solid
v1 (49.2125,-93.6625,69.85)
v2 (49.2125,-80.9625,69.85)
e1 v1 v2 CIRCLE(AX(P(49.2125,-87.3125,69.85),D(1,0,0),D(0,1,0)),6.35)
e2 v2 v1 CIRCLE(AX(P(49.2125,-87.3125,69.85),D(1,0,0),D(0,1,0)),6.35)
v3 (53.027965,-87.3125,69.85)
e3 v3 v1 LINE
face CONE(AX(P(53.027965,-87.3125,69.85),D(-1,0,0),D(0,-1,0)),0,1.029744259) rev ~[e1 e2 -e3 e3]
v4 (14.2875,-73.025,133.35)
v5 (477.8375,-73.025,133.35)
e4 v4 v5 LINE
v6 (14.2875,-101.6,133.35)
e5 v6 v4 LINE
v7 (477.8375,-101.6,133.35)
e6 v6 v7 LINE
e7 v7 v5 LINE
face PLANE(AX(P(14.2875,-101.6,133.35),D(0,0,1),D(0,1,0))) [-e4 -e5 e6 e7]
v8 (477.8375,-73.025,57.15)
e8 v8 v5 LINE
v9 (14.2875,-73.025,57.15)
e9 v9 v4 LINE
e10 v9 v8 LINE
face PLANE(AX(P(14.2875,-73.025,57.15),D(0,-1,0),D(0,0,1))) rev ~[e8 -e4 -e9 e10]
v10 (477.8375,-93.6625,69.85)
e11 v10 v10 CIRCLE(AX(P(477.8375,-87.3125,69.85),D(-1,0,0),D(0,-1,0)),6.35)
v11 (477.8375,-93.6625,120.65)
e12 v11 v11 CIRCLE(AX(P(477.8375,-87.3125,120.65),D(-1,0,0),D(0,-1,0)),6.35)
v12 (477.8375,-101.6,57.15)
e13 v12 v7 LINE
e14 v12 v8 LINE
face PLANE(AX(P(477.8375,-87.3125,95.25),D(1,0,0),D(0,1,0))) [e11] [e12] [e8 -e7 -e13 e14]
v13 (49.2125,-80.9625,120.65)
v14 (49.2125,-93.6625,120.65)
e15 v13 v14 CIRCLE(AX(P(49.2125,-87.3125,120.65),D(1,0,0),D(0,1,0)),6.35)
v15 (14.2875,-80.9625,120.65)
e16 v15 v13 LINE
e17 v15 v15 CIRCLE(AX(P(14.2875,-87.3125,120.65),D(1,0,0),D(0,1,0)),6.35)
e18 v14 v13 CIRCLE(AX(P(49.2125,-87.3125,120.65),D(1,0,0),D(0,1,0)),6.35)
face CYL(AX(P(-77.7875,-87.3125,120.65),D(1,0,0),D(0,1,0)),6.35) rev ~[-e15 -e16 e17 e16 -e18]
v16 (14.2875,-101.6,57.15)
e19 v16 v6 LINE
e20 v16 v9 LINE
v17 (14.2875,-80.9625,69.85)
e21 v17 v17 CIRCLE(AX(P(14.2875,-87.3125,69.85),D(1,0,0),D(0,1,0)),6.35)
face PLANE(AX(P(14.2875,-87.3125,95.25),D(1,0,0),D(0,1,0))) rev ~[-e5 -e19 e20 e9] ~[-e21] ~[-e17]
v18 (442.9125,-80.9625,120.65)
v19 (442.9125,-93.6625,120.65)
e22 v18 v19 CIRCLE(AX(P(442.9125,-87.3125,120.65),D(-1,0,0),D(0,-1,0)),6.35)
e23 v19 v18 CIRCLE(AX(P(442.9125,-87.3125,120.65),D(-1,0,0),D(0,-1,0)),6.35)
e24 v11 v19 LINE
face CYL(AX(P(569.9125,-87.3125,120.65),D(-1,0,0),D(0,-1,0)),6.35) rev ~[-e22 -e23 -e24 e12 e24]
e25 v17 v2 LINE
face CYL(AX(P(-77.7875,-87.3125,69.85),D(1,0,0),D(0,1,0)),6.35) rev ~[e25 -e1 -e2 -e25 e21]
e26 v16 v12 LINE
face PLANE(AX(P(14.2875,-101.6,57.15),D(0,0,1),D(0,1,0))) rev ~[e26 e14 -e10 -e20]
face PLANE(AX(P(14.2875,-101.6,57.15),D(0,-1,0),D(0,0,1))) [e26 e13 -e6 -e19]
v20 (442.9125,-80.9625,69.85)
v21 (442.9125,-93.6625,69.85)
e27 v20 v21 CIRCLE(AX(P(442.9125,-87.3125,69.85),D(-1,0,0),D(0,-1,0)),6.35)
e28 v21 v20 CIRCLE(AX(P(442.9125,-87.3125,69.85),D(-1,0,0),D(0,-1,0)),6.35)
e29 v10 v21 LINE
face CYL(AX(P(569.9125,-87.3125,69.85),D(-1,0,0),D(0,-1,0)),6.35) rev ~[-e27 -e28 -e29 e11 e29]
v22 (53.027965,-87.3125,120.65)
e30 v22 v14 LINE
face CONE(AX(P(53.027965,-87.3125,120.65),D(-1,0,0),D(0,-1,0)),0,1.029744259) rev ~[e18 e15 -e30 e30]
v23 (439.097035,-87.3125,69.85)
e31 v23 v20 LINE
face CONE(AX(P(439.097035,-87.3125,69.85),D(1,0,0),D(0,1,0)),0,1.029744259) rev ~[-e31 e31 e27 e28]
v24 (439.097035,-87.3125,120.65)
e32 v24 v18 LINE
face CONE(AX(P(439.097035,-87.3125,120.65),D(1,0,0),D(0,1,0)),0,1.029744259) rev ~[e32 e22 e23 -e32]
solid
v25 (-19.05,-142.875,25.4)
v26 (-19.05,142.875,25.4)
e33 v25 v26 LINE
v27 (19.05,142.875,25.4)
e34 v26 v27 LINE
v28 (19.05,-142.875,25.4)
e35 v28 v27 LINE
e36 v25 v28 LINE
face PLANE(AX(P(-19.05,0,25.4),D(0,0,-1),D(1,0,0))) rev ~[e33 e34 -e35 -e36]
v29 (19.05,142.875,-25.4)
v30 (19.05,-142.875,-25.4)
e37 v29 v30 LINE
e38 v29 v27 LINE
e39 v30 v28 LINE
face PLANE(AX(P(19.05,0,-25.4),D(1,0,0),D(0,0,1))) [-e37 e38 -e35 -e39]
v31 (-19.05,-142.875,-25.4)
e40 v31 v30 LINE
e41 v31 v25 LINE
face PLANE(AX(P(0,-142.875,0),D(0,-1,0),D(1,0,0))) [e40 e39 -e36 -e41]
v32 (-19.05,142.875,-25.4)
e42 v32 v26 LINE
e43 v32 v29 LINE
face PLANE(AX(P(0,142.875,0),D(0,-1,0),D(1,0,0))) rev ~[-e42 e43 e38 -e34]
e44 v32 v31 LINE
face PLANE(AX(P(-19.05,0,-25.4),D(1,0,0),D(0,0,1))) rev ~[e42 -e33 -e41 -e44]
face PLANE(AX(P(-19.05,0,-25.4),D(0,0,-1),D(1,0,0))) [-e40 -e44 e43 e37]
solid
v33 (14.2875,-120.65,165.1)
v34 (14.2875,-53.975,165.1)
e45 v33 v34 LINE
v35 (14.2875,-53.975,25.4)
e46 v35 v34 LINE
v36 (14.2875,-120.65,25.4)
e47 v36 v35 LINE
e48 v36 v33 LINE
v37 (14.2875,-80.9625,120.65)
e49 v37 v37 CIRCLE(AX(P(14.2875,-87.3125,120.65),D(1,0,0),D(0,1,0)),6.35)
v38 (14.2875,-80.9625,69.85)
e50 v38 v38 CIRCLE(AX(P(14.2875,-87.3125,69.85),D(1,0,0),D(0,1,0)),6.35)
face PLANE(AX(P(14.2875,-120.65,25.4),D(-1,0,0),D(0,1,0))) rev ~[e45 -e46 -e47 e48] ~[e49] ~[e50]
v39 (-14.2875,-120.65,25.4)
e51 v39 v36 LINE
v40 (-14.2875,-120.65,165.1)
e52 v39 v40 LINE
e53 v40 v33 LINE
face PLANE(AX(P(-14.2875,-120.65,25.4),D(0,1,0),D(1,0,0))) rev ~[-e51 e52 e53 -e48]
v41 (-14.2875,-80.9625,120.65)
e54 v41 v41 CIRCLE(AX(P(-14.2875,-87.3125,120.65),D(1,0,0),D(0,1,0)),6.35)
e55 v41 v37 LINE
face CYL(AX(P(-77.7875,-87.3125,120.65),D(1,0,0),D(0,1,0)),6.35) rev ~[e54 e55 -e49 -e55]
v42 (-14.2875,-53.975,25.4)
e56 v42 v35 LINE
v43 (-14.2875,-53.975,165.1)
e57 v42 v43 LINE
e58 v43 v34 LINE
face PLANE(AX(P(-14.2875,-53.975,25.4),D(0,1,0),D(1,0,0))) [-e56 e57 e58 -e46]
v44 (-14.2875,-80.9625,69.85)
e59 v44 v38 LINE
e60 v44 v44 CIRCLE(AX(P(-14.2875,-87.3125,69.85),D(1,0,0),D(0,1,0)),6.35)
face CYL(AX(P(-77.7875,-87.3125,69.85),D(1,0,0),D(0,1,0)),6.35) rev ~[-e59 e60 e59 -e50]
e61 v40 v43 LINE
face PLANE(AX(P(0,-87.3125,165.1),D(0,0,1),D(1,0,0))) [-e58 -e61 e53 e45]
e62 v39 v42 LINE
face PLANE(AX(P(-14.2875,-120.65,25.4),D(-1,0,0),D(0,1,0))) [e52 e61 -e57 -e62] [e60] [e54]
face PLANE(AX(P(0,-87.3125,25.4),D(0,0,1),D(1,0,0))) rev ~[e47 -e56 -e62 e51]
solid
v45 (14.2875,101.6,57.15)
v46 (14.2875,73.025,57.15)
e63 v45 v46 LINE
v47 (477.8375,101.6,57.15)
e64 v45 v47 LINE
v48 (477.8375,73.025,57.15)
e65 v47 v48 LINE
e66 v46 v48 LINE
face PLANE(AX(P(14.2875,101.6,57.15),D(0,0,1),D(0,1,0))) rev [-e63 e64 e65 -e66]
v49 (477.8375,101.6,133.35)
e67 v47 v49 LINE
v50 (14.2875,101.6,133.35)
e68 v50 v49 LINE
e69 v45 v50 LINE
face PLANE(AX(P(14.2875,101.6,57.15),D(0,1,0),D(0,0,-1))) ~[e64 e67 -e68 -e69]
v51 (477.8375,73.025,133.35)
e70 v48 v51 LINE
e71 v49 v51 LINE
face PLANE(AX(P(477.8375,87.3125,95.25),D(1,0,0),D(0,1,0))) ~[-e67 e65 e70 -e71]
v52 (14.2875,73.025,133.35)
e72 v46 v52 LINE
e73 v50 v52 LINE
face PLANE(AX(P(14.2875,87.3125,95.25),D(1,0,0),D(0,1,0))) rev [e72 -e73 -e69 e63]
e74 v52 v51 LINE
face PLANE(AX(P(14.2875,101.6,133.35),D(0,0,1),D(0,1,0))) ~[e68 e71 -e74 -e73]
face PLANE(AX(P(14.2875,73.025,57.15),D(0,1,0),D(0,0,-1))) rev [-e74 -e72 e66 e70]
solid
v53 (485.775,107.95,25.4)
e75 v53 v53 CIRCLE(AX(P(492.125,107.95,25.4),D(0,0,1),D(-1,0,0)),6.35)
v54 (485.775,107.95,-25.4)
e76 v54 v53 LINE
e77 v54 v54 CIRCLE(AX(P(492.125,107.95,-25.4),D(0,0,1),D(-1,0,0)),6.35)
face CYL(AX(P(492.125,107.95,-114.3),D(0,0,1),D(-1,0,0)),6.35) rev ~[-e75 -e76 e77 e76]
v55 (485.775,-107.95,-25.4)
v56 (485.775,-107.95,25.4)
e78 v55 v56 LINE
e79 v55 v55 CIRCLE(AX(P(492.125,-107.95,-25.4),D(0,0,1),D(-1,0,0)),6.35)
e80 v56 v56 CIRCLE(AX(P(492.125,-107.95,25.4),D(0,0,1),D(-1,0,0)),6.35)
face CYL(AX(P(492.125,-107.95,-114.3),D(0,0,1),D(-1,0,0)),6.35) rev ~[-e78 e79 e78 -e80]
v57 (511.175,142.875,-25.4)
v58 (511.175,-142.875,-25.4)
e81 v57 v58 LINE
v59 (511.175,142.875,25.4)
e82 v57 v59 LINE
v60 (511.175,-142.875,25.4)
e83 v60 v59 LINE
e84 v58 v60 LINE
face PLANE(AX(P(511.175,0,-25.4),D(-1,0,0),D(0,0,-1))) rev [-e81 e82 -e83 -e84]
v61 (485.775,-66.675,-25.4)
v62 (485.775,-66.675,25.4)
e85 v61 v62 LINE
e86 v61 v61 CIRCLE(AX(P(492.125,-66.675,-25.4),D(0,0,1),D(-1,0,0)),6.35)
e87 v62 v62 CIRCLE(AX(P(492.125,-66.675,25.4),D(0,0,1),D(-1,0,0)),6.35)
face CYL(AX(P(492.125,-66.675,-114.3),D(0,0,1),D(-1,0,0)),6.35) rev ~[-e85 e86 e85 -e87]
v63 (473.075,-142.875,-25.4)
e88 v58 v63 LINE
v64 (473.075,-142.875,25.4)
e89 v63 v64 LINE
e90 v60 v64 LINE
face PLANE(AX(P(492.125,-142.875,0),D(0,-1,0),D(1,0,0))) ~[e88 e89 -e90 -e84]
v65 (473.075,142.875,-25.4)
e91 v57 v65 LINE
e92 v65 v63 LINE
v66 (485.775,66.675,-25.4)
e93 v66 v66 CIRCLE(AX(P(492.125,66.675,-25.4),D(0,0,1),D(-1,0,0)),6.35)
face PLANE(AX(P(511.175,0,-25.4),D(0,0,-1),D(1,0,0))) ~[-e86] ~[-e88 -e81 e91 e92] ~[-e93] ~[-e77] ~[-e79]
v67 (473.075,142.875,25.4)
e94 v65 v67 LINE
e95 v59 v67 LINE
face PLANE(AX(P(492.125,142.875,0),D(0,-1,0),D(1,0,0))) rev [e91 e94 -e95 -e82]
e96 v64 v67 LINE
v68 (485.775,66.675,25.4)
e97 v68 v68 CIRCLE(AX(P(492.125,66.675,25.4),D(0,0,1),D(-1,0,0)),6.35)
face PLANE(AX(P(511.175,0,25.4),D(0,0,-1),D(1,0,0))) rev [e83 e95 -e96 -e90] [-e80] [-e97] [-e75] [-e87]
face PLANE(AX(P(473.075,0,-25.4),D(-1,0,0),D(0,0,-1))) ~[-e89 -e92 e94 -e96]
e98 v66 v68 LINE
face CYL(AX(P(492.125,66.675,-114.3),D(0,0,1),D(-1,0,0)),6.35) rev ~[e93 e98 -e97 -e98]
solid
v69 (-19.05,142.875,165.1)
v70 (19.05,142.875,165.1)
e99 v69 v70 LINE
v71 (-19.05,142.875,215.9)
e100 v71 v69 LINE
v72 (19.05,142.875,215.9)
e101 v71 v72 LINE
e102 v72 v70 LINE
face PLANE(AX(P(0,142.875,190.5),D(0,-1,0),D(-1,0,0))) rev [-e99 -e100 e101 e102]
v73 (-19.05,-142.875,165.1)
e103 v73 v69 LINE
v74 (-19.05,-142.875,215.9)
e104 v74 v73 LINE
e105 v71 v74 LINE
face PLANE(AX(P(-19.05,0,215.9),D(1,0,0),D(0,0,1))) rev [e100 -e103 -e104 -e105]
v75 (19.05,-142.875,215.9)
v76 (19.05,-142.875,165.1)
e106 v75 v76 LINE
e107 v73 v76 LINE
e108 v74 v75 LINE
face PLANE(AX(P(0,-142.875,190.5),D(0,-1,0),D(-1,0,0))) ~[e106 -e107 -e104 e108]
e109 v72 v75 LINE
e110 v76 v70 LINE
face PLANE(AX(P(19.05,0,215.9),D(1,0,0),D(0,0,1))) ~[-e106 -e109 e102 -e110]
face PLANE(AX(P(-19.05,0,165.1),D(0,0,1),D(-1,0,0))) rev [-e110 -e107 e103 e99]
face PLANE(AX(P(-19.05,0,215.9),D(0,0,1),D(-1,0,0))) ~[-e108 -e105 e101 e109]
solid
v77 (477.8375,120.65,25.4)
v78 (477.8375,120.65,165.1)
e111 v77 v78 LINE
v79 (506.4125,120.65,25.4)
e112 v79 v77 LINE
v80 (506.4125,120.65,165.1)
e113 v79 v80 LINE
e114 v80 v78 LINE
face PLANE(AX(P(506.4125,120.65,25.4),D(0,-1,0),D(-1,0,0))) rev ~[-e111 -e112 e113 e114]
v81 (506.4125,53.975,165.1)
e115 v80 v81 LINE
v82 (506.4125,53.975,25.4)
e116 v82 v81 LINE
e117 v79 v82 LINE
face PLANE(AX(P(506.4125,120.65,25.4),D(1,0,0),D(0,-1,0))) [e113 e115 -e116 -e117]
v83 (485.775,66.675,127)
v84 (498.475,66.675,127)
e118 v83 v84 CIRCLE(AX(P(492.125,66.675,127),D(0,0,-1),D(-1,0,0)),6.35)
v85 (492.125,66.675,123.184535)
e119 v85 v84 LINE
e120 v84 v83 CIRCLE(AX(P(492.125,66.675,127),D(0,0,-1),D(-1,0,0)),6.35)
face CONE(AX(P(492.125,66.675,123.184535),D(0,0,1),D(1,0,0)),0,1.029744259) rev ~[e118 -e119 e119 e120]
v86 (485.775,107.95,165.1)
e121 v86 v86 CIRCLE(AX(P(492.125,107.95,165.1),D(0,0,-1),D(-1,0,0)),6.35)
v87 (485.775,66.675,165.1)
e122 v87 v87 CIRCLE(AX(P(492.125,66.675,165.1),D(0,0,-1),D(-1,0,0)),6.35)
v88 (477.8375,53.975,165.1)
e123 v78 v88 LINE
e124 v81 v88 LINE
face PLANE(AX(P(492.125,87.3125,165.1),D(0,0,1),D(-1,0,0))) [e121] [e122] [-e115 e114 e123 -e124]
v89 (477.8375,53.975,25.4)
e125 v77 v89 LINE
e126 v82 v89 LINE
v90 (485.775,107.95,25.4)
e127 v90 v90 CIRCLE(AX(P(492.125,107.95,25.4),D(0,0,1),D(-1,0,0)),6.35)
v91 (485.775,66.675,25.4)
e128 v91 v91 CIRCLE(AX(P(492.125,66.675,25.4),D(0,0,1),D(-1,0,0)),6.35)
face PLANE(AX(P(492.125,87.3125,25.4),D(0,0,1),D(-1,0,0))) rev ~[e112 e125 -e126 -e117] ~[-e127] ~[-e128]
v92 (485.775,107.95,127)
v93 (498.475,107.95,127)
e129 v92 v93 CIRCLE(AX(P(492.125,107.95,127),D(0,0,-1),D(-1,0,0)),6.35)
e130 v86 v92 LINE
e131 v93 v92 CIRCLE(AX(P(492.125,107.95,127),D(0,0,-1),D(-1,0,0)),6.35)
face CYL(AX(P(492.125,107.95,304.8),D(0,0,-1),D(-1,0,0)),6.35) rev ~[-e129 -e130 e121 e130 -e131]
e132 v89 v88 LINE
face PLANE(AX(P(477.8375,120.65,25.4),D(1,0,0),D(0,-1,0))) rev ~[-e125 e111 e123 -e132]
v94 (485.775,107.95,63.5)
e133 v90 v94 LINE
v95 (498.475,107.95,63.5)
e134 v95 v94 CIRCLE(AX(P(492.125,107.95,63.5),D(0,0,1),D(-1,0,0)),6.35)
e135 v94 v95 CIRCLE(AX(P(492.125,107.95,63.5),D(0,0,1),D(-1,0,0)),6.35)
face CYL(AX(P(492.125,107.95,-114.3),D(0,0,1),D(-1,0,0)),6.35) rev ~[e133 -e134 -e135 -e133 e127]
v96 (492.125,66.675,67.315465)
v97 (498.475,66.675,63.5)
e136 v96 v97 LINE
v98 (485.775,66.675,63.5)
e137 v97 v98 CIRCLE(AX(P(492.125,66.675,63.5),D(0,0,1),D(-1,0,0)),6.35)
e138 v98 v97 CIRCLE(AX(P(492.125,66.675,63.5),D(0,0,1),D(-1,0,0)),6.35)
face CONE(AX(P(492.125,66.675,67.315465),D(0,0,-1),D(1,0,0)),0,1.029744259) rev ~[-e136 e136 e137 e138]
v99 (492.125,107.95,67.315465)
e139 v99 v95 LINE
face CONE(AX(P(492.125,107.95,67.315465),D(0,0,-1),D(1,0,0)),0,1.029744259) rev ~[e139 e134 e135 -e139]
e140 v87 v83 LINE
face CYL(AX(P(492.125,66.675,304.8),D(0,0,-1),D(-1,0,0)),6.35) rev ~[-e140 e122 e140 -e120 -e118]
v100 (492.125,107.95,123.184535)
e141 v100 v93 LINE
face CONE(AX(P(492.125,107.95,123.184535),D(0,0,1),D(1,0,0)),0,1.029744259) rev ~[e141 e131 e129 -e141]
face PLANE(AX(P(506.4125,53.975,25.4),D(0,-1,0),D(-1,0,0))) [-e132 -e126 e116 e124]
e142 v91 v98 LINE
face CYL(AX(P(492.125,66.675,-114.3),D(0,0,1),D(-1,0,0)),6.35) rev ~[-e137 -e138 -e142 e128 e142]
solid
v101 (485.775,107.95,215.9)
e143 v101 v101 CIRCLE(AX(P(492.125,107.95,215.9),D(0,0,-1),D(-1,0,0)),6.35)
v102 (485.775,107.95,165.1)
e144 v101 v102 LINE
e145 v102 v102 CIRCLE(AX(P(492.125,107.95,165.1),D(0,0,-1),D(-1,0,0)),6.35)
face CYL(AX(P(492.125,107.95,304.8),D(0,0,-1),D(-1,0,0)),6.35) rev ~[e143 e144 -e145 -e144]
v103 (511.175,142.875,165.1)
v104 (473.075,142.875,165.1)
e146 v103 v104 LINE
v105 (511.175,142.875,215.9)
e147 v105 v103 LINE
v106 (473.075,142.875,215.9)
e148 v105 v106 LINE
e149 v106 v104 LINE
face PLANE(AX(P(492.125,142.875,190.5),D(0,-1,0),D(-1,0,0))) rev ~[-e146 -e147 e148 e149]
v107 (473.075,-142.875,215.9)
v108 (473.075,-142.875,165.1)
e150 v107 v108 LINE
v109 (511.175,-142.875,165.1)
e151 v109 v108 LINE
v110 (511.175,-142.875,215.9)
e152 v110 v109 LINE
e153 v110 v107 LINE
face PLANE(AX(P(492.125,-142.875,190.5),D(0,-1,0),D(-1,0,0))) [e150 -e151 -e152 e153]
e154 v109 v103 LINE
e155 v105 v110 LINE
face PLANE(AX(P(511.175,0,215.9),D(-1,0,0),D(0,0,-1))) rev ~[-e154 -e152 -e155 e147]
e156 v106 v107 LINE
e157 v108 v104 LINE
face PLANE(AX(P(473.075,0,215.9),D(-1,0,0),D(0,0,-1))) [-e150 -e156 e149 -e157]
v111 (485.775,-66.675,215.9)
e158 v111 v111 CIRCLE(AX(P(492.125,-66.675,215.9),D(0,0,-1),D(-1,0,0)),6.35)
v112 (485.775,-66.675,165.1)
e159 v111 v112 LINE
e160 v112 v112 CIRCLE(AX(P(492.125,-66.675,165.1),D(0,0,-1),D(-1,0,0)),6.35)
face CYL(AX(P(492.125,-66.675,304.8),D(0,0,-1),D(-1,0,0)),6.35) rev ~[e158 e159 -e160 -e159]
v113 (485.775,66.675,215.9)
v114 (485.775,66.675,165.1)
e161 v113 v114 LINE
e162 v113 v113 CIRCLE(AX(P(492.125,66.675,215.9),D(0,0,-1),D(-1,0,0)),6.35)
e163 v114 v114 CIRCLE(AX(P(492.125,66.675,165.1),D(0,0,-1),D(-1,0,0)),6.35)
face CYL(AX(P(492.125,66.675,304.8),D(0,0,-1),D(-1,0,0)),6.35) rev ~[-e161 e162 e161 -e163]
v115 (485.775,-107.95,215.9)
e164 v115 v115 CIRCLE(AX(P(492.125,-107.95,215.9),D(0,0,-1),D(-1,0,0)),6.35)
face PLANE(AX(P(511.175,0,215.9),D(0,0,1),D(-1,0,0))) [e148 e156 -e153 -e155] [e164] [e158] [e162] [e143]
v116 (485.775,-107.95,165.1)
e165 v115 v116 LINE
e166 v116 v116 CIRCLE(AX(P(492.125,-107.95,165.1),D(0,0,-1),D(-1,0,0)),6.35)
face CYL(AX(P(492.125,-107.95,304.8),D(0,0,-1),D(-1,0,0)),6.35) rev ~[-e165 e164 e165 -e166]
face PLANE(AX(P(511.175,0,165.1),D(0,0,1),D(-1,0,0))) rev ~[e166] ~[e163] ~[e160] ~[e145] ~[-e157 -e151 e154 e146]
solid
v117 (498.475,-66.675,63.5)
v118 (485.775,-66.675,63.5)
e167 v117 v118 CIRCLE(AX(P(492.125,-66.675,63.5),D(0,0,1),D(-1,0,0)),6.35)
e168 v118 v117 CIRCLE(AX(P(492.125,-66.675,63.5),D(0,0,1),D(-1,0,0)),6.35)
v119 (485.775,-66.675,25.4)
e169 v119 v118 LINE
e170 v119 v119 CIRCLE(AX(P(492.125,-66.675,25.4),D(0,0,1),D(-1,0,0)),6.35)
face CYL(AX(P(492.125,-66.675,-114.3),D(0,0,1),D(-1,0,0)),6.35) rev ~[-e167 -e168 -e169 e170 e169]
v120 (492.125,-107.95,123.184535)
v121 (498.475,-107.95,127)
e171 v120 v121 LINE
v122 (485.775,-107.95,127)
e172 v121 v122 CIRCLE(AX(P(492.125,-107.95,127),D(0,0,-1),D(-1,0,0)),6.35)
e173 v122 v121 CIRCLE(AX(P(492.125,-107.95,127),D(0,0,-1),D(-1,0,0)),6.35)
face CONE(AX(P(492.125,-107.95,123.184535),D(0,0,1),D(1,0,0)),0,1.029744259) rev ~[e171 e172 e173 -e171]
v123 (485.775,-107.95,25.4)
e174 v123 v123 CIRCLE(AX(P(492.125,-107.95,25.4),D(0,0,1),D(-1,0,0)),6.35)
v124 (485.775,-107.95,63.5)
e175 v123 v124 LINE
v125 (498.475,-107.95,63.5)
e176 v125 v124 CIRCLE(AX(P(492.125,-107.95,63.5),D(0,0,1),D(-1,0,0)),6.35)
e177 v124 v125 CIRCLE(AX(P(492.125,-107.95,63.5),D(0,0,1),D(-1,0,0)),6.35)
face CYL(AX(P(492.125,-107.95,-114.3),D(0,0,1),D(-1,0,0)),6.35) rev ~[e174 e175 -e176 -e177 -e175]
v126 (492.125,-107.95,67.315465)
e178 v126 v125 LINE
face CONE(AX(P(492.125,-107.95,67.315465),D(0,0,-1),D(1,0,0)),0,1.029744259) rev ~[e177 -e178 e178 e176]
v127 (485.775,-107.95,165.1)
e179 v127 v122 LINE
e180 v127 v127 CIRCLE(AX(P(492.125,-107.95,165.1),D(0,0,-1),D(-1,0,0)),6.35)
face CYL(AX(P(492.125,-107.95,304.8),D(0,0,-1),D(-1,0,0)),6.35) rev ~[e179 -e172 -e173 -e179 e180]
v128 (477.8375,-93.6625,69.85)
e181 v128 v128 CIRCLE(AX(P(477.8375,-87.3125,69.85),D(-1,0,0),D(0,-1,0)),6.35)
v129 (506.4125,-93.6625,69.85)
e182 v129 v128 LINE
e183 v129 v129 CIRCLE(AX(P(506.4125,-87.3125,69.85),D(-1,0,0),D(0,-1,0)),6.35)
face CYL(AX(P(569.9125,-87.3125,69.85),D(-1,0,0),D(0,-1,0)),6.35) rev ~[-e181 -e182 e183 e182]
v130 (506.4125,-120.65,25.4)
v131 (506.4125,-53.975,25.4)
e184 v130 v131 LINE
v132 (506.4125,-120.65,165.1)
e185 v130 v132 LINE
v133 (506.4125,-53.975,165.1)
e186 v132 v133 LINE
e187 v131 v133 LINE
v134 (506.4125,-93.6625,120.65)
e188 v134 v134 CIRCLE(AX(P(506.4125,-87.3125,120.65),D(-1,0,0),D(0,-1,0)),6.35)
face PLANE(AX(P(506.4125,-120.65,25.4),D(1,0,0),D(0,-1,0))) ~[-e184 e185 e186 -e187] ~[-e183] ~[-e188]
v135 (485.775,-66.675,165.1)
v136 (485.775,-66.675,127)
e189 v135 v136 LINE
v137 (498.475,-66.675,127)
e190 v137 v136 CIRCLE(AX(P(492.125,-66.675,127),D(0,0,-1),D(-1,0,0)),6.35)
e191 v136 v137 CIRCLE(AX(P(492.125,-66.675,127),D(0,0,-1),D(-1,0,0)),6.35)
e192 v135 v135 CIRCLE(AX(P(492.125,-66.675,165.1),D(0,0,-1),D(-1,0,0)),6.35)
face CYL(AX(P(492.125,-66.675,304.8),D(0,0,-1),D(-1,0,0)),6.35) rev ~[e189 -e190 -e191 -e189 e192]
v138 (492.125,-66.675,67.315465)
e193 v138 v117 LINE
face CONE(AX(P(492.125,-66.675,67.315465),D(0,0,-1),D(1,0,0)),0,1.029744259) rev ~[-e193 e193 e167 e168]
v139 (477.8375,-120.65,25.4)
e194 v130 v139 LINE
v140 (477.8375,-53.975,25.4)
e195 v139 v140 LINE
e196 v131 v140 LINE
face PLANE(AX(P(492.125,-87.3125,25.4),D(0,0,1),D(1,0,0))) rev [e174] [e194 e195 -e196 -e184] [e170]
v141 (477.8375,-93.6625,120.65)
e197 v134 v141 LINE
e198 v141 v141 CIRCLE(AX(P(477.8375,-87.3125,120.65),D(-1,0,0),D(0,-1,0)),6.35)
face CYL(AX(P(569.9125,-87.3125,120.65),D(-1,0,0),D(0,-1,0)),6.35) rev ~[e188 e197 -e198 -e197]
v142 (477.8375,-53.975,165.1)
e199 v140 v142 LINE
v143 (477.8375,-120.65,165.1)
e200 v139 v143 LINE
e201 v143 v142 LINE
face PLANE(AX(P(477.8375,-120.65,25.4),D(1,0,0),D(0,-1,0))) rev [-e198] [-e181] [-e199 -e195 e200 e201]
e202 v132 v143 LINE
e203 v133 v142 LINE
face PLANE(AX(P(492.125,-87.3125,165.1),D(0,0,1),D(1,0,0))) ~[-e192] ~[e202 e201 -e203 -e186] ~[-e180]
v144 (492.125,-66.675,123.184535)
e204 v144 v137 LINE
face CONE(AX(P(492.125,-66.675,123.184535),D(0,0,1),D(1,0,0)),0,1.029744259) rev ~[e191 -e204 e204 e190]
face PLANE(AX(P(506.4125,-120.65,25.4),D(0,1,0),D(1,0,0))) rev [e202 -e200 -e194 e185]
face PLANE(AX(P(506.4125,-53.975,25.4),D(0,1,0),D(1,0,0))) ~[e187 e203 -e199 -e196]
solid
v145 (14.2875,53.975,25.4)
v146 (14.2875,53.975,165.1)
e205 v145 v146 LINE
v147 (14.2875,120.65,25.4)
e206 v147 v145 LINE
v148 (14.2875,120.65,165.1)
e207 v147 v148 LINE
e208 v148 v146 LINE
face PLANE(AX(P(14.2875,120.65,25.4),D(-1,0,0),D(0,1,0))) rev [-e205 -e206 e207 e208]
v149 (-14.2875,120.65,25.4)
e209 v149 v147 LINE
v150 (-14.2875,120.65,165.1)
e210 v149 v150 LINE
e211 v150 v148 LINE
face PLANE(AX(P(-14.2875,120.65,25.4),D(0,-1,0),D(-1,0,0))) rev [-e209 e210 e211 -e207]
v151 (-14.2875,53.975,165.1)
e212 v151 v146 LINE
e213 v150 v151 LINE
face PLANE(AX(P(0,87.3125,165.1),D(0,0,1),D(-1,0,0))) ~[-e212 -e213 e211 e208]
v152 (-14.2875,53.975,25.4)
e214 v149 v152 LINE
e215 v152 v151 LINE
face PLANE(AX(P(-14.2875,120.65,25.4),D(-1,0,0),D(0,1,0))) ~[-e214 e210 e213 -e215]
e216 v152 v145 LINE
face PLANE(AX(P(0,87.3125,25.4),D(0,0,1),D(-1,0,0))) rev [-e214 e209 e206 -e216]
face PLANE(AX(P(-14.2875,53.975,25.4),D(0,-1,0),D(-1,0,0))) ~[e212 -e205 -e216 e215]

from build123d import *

# Parameters (mm, degrees)
F0_W        = 38.1
F0_H        = 50.8
F1_DEPTH    = 142.875
F2_W        = 28.575
F2_H        = 66.675
F3_DEPTH    = 139.7
F10_W       = 28.575
F10_H       = 76.2
F11_DEPTH   = 463.55
F17_D       = 12.7
F17_DEPTH   = 88.9
F17_TIP     = 3.8154649308
F17_2_D     = 12.7
F17_2_DEPTH = 88.9
F17_2_TIP   = 3.8154649308
F17_3_D     = 12.7
F17_3_DEPTH = 88.9
F17_3_TIP   = 3.8154649308
F19_D       = 12.7
F19_DEPTH   = 63.5
F19_TIP     = 3.8154649308
F19_2_D     = 12.7
F19_2_DEPTH = 63.5
F19_2_TIP   = 3.8154649308
F21_D       = 12.7
F21_DEPTH   = 88.9
F21_TIP     = 3.8154649308
F21_2_D     = 12.7
F21_2_DEPTH = 88.9
F21_2_TIP   = 3.8154649308
F21_3_D     = 12.7
F21_3_DEPTH = 88.9
F21_3_TIP   = 3.8154649308
F23_D       = 12.7
F23_DEPTH   = 63.5
F23_TIP     = 3.8154649308
F23_2_D     = 12.7
F23_2_DEPTH = 63.5
F23_2_TIP   = 3.8154649308


with BuildPart() as f1:
    # F0 (on Front) → F1 (new body, symmetric)
    with BuildSketch(Plane.XZ):
        Rectangle(F0_W, F0_H)
    extrude(amount=F1_DEPTH, both=True)


with BuildPart() as f3:
    # F2 (on face) → F3 (new body)
    with BuildSketch(Plane.XY.offset(25.4)):
        with Locations((0, -87.3125)):
            Rectangle(F2_W, F2_H)
    extrude(amount=F3_DEPTH)


with BuildPart() as f4_1:
    # F4: instance of F3
    add(f3.part.mirror(Plane.XZ))


with BuildPart() as f7_1:
    # F7: instance of F1
    add(f1.part.mirror(Plane.XY.offset(95.25)))


with BuildPart() as f11:
    # F10 (on face) → F11 (new body)
    with BuildSketch(Plane.YZ.offset(14.2875)):
        with Locations((-87.3125, 95.25)):
            Rectangle(F10_W, F10_H)
    extrude(amount=F11_DEPTH)


with BuildPart() as f12_1:
    # F12: instance of F11
    add(f11.part.mirror(Plane.XZ))


with BuildPart() as f15_1:
    # F15: instance of F1
    add(f1.part.mirror(Plane(origin=(246.0625, -87.3125, 95.25), x_dir=(0, 1, 0), z_dir=(1, 0, 0))))

    # F21
    with Locations(Plane(origin=(0, 0, -25.4), x_dir=(1, 0, 0), z_dir=(0, 0, -1))):
        with Locations((492.125, -107.95), (492.125, -66.675), (492.125, 66.675), (492.125, 107.95)):
            Hole(F21_D / 2, depth=F21_DEPTH)
            with Locations((0, 0, -(F21_DEPTH + F21_TIP / 2))):  # 118° drill point
                Cone(0, F21_D / 2, F21_TIP, mode=Mode.SUBTRACT)


with BuildPart() as f15_2:
    # F15: instance of F3
    add(f3.part.mirror(Plane(origin=(246.0625, -87.3125, 95.25), x_dir=(0, 1, 0), z_dir=(1, 0, 0))))

    # F17
    with Locations(Plane.XY.offset(215.9)):
        with Locations((492.125, 107.95), (492.125, 66.675), (492.125, -66.675), (492.125, -107.95)):
            Hole(F17_D / 2, depth=F17_DEPTH)
            with Locations((0, 0, -(F17_DEPTH + F17_TIP / 2))):  # 118° drill point
                Cone(0, F17_D / 2, F17_TIP, mode=Mode.SUBTRACT)

    # F19#2
    with Locations(Plane.YZ.offset(506.4125)):
        with Locations((-87.3125, 120.65), (-87.3125, 69.85)):
            Hole(F19_2_D / 2, depth=F19_2_DEPTH)
            with Locations((0, 0, -(F19_2_DEPTH + F19_2_TIP / 2))):  # 118° drill point
                Cone(0, F19_2_D / 2, F19_2_TIP, mode=Mode.SUBTRACT)

    # F21#2
    with Locations(Plane(origin=(0, 0, -25.4), x_dir=(1, 0, 0), z_dir=(0, 0, -1))):
        with Locations((492.125, -107.95), (492.125, -66.675), (492.125, 66.675), (492.125, 107.95)):
            Hole(F21_2_D / 2, depth=F21_2_DEPTH)
            with Locations((0, 0, -(F21_2_DEPTH + F21_2_TIP / 2))):  # 118° drill point
                Cone(0, F21_2_D / 2, F21_2_TIP, mode=Mode.SUBTRACT)


with BuildPart() as f15_3:
    # F15: instance of F4_1
    add(f4_1.part.mirror(Plane(origin=(246.0625, -87.3125, 95.25), x_dir=(0, 1, 0), z_dir=(1, 0, 0))))

    # F17#2
    with Locations(Plane.XY.offset(215.9)):
        with Locations((492.125, 107.95), (492.125, 66.675), (492.125, -66.675), (492.125, -107.95)):
            Hole(F17_2_D / 2, depth=F17_2_DEPTH)
            with Locations((0, 0, -(F17_2_DEPTH + F17_2_TIP / 2))):  # 118° drill point
                Cone(0, F17_2_D / 2, F17_2_TIP, mode=Mode.SUBTRACT)

    # F21#3
    with Locations(Plane(origin=(0, 0, -25.4), x_dir=(1, 0, 0), z_dir=(0, 0, -1))):
        with Locations((492.125, -107.95), (492.125, -66.675), (492.125, 66.675), (492.125, 107.95)):
            Hole(F21_3_D / 2, depth=F21_3_DEPTH)
            with Locations((0, 0, -(F21_3_DEPTH + F21_3_TIP / 2))):  # 118° drill point
                Cone(0, F21_3_D / 2, F21_3_TIP, mode=Mode.SUBTRACT)


with BuildPart() as f15_4:
    # F15: instance of F7_1
    add(f7_1.part.mirror(Plane(origin=(246.0625, -87.3125, 95.25), x_dir=(0, 1, 0), z_dir=(1, 0, 0))))

    # F17#3
    with Locations(Plane.XY.offset(215.9)):
        with Locations((492.125, 107.95), (492.125, 66.675), (492.125, -66.675), (492.125, -107.95)):
            Hole(F17_3_D / 2, depth=F17_3_DEPTH)
            with Locations((0, 0, -(F17_3_DEPTH + F17_3_TIP / 2))):  # 118° drill point
                Cone(0, F17_3_D / 2, F17_3_TIP, mode=Mode.SUBTRACT)


with BuildPart() as f11_1:
    add(f11.part)

    # F19
    with Locations(Plane.YZ.offset(506.4125)):
        with Locations((-87.3125, 120.65), (-87.3125, 69.85)):
            Hole(F19_D / 2, depth=F19_DEPTH)
            with Locations((0, 0, -(F19_DEPTH + F19_TIP / 2))):  # 118° drill point
                Cone(0, F19_D / 2, F19_TIP, mode=Mode.SUBTRACT)

    # F23#2
    with Locations(Plane(origin=(-14.2875, 0, 0), x_dir=(0, -1, 0), z_dir=(-1, 0, 0))):
        with Locations((87.3125, 69.85), (87.3125, 120.65)):
            Hole(F23_2_D / 2, depth=F23_2_DEPTH)
            with Locations((0, 0, -(F23_2_DEPTH + F23_2_TIP / 2))):  # 118° drill point
                Cone(0, F23_2_D / 2, F23_2_TIP, mode=Mode.SUBTRACT)


with BuildPart() as f3_1:
    add(f3.part)

    # F23
    with Locations(Plane(origin=(-14.2875, 0, 0), x_dir=(0, -1, 0), z_dir=(-1, 0, 0))):
        with Locations((87.3125, 69.85), (87.3125, 120.65)):
            Hole(F23_D / 2, depth=F23_DEPTH)
            with Locations((0, 0, -(F23_DEPTH + F23_TIP / 2))):  # 118° drill point
                Cone(0, F23_D / 2, F23_TIP, mode=Mode.SUBTRACT)


solid = Compound([f1.part, f4_1.part, f7_1.part, f12_1.part, f15_1.part, f15_2.part, f15_3.part, f15_4.part, f11_1.part, f3_1.part])
